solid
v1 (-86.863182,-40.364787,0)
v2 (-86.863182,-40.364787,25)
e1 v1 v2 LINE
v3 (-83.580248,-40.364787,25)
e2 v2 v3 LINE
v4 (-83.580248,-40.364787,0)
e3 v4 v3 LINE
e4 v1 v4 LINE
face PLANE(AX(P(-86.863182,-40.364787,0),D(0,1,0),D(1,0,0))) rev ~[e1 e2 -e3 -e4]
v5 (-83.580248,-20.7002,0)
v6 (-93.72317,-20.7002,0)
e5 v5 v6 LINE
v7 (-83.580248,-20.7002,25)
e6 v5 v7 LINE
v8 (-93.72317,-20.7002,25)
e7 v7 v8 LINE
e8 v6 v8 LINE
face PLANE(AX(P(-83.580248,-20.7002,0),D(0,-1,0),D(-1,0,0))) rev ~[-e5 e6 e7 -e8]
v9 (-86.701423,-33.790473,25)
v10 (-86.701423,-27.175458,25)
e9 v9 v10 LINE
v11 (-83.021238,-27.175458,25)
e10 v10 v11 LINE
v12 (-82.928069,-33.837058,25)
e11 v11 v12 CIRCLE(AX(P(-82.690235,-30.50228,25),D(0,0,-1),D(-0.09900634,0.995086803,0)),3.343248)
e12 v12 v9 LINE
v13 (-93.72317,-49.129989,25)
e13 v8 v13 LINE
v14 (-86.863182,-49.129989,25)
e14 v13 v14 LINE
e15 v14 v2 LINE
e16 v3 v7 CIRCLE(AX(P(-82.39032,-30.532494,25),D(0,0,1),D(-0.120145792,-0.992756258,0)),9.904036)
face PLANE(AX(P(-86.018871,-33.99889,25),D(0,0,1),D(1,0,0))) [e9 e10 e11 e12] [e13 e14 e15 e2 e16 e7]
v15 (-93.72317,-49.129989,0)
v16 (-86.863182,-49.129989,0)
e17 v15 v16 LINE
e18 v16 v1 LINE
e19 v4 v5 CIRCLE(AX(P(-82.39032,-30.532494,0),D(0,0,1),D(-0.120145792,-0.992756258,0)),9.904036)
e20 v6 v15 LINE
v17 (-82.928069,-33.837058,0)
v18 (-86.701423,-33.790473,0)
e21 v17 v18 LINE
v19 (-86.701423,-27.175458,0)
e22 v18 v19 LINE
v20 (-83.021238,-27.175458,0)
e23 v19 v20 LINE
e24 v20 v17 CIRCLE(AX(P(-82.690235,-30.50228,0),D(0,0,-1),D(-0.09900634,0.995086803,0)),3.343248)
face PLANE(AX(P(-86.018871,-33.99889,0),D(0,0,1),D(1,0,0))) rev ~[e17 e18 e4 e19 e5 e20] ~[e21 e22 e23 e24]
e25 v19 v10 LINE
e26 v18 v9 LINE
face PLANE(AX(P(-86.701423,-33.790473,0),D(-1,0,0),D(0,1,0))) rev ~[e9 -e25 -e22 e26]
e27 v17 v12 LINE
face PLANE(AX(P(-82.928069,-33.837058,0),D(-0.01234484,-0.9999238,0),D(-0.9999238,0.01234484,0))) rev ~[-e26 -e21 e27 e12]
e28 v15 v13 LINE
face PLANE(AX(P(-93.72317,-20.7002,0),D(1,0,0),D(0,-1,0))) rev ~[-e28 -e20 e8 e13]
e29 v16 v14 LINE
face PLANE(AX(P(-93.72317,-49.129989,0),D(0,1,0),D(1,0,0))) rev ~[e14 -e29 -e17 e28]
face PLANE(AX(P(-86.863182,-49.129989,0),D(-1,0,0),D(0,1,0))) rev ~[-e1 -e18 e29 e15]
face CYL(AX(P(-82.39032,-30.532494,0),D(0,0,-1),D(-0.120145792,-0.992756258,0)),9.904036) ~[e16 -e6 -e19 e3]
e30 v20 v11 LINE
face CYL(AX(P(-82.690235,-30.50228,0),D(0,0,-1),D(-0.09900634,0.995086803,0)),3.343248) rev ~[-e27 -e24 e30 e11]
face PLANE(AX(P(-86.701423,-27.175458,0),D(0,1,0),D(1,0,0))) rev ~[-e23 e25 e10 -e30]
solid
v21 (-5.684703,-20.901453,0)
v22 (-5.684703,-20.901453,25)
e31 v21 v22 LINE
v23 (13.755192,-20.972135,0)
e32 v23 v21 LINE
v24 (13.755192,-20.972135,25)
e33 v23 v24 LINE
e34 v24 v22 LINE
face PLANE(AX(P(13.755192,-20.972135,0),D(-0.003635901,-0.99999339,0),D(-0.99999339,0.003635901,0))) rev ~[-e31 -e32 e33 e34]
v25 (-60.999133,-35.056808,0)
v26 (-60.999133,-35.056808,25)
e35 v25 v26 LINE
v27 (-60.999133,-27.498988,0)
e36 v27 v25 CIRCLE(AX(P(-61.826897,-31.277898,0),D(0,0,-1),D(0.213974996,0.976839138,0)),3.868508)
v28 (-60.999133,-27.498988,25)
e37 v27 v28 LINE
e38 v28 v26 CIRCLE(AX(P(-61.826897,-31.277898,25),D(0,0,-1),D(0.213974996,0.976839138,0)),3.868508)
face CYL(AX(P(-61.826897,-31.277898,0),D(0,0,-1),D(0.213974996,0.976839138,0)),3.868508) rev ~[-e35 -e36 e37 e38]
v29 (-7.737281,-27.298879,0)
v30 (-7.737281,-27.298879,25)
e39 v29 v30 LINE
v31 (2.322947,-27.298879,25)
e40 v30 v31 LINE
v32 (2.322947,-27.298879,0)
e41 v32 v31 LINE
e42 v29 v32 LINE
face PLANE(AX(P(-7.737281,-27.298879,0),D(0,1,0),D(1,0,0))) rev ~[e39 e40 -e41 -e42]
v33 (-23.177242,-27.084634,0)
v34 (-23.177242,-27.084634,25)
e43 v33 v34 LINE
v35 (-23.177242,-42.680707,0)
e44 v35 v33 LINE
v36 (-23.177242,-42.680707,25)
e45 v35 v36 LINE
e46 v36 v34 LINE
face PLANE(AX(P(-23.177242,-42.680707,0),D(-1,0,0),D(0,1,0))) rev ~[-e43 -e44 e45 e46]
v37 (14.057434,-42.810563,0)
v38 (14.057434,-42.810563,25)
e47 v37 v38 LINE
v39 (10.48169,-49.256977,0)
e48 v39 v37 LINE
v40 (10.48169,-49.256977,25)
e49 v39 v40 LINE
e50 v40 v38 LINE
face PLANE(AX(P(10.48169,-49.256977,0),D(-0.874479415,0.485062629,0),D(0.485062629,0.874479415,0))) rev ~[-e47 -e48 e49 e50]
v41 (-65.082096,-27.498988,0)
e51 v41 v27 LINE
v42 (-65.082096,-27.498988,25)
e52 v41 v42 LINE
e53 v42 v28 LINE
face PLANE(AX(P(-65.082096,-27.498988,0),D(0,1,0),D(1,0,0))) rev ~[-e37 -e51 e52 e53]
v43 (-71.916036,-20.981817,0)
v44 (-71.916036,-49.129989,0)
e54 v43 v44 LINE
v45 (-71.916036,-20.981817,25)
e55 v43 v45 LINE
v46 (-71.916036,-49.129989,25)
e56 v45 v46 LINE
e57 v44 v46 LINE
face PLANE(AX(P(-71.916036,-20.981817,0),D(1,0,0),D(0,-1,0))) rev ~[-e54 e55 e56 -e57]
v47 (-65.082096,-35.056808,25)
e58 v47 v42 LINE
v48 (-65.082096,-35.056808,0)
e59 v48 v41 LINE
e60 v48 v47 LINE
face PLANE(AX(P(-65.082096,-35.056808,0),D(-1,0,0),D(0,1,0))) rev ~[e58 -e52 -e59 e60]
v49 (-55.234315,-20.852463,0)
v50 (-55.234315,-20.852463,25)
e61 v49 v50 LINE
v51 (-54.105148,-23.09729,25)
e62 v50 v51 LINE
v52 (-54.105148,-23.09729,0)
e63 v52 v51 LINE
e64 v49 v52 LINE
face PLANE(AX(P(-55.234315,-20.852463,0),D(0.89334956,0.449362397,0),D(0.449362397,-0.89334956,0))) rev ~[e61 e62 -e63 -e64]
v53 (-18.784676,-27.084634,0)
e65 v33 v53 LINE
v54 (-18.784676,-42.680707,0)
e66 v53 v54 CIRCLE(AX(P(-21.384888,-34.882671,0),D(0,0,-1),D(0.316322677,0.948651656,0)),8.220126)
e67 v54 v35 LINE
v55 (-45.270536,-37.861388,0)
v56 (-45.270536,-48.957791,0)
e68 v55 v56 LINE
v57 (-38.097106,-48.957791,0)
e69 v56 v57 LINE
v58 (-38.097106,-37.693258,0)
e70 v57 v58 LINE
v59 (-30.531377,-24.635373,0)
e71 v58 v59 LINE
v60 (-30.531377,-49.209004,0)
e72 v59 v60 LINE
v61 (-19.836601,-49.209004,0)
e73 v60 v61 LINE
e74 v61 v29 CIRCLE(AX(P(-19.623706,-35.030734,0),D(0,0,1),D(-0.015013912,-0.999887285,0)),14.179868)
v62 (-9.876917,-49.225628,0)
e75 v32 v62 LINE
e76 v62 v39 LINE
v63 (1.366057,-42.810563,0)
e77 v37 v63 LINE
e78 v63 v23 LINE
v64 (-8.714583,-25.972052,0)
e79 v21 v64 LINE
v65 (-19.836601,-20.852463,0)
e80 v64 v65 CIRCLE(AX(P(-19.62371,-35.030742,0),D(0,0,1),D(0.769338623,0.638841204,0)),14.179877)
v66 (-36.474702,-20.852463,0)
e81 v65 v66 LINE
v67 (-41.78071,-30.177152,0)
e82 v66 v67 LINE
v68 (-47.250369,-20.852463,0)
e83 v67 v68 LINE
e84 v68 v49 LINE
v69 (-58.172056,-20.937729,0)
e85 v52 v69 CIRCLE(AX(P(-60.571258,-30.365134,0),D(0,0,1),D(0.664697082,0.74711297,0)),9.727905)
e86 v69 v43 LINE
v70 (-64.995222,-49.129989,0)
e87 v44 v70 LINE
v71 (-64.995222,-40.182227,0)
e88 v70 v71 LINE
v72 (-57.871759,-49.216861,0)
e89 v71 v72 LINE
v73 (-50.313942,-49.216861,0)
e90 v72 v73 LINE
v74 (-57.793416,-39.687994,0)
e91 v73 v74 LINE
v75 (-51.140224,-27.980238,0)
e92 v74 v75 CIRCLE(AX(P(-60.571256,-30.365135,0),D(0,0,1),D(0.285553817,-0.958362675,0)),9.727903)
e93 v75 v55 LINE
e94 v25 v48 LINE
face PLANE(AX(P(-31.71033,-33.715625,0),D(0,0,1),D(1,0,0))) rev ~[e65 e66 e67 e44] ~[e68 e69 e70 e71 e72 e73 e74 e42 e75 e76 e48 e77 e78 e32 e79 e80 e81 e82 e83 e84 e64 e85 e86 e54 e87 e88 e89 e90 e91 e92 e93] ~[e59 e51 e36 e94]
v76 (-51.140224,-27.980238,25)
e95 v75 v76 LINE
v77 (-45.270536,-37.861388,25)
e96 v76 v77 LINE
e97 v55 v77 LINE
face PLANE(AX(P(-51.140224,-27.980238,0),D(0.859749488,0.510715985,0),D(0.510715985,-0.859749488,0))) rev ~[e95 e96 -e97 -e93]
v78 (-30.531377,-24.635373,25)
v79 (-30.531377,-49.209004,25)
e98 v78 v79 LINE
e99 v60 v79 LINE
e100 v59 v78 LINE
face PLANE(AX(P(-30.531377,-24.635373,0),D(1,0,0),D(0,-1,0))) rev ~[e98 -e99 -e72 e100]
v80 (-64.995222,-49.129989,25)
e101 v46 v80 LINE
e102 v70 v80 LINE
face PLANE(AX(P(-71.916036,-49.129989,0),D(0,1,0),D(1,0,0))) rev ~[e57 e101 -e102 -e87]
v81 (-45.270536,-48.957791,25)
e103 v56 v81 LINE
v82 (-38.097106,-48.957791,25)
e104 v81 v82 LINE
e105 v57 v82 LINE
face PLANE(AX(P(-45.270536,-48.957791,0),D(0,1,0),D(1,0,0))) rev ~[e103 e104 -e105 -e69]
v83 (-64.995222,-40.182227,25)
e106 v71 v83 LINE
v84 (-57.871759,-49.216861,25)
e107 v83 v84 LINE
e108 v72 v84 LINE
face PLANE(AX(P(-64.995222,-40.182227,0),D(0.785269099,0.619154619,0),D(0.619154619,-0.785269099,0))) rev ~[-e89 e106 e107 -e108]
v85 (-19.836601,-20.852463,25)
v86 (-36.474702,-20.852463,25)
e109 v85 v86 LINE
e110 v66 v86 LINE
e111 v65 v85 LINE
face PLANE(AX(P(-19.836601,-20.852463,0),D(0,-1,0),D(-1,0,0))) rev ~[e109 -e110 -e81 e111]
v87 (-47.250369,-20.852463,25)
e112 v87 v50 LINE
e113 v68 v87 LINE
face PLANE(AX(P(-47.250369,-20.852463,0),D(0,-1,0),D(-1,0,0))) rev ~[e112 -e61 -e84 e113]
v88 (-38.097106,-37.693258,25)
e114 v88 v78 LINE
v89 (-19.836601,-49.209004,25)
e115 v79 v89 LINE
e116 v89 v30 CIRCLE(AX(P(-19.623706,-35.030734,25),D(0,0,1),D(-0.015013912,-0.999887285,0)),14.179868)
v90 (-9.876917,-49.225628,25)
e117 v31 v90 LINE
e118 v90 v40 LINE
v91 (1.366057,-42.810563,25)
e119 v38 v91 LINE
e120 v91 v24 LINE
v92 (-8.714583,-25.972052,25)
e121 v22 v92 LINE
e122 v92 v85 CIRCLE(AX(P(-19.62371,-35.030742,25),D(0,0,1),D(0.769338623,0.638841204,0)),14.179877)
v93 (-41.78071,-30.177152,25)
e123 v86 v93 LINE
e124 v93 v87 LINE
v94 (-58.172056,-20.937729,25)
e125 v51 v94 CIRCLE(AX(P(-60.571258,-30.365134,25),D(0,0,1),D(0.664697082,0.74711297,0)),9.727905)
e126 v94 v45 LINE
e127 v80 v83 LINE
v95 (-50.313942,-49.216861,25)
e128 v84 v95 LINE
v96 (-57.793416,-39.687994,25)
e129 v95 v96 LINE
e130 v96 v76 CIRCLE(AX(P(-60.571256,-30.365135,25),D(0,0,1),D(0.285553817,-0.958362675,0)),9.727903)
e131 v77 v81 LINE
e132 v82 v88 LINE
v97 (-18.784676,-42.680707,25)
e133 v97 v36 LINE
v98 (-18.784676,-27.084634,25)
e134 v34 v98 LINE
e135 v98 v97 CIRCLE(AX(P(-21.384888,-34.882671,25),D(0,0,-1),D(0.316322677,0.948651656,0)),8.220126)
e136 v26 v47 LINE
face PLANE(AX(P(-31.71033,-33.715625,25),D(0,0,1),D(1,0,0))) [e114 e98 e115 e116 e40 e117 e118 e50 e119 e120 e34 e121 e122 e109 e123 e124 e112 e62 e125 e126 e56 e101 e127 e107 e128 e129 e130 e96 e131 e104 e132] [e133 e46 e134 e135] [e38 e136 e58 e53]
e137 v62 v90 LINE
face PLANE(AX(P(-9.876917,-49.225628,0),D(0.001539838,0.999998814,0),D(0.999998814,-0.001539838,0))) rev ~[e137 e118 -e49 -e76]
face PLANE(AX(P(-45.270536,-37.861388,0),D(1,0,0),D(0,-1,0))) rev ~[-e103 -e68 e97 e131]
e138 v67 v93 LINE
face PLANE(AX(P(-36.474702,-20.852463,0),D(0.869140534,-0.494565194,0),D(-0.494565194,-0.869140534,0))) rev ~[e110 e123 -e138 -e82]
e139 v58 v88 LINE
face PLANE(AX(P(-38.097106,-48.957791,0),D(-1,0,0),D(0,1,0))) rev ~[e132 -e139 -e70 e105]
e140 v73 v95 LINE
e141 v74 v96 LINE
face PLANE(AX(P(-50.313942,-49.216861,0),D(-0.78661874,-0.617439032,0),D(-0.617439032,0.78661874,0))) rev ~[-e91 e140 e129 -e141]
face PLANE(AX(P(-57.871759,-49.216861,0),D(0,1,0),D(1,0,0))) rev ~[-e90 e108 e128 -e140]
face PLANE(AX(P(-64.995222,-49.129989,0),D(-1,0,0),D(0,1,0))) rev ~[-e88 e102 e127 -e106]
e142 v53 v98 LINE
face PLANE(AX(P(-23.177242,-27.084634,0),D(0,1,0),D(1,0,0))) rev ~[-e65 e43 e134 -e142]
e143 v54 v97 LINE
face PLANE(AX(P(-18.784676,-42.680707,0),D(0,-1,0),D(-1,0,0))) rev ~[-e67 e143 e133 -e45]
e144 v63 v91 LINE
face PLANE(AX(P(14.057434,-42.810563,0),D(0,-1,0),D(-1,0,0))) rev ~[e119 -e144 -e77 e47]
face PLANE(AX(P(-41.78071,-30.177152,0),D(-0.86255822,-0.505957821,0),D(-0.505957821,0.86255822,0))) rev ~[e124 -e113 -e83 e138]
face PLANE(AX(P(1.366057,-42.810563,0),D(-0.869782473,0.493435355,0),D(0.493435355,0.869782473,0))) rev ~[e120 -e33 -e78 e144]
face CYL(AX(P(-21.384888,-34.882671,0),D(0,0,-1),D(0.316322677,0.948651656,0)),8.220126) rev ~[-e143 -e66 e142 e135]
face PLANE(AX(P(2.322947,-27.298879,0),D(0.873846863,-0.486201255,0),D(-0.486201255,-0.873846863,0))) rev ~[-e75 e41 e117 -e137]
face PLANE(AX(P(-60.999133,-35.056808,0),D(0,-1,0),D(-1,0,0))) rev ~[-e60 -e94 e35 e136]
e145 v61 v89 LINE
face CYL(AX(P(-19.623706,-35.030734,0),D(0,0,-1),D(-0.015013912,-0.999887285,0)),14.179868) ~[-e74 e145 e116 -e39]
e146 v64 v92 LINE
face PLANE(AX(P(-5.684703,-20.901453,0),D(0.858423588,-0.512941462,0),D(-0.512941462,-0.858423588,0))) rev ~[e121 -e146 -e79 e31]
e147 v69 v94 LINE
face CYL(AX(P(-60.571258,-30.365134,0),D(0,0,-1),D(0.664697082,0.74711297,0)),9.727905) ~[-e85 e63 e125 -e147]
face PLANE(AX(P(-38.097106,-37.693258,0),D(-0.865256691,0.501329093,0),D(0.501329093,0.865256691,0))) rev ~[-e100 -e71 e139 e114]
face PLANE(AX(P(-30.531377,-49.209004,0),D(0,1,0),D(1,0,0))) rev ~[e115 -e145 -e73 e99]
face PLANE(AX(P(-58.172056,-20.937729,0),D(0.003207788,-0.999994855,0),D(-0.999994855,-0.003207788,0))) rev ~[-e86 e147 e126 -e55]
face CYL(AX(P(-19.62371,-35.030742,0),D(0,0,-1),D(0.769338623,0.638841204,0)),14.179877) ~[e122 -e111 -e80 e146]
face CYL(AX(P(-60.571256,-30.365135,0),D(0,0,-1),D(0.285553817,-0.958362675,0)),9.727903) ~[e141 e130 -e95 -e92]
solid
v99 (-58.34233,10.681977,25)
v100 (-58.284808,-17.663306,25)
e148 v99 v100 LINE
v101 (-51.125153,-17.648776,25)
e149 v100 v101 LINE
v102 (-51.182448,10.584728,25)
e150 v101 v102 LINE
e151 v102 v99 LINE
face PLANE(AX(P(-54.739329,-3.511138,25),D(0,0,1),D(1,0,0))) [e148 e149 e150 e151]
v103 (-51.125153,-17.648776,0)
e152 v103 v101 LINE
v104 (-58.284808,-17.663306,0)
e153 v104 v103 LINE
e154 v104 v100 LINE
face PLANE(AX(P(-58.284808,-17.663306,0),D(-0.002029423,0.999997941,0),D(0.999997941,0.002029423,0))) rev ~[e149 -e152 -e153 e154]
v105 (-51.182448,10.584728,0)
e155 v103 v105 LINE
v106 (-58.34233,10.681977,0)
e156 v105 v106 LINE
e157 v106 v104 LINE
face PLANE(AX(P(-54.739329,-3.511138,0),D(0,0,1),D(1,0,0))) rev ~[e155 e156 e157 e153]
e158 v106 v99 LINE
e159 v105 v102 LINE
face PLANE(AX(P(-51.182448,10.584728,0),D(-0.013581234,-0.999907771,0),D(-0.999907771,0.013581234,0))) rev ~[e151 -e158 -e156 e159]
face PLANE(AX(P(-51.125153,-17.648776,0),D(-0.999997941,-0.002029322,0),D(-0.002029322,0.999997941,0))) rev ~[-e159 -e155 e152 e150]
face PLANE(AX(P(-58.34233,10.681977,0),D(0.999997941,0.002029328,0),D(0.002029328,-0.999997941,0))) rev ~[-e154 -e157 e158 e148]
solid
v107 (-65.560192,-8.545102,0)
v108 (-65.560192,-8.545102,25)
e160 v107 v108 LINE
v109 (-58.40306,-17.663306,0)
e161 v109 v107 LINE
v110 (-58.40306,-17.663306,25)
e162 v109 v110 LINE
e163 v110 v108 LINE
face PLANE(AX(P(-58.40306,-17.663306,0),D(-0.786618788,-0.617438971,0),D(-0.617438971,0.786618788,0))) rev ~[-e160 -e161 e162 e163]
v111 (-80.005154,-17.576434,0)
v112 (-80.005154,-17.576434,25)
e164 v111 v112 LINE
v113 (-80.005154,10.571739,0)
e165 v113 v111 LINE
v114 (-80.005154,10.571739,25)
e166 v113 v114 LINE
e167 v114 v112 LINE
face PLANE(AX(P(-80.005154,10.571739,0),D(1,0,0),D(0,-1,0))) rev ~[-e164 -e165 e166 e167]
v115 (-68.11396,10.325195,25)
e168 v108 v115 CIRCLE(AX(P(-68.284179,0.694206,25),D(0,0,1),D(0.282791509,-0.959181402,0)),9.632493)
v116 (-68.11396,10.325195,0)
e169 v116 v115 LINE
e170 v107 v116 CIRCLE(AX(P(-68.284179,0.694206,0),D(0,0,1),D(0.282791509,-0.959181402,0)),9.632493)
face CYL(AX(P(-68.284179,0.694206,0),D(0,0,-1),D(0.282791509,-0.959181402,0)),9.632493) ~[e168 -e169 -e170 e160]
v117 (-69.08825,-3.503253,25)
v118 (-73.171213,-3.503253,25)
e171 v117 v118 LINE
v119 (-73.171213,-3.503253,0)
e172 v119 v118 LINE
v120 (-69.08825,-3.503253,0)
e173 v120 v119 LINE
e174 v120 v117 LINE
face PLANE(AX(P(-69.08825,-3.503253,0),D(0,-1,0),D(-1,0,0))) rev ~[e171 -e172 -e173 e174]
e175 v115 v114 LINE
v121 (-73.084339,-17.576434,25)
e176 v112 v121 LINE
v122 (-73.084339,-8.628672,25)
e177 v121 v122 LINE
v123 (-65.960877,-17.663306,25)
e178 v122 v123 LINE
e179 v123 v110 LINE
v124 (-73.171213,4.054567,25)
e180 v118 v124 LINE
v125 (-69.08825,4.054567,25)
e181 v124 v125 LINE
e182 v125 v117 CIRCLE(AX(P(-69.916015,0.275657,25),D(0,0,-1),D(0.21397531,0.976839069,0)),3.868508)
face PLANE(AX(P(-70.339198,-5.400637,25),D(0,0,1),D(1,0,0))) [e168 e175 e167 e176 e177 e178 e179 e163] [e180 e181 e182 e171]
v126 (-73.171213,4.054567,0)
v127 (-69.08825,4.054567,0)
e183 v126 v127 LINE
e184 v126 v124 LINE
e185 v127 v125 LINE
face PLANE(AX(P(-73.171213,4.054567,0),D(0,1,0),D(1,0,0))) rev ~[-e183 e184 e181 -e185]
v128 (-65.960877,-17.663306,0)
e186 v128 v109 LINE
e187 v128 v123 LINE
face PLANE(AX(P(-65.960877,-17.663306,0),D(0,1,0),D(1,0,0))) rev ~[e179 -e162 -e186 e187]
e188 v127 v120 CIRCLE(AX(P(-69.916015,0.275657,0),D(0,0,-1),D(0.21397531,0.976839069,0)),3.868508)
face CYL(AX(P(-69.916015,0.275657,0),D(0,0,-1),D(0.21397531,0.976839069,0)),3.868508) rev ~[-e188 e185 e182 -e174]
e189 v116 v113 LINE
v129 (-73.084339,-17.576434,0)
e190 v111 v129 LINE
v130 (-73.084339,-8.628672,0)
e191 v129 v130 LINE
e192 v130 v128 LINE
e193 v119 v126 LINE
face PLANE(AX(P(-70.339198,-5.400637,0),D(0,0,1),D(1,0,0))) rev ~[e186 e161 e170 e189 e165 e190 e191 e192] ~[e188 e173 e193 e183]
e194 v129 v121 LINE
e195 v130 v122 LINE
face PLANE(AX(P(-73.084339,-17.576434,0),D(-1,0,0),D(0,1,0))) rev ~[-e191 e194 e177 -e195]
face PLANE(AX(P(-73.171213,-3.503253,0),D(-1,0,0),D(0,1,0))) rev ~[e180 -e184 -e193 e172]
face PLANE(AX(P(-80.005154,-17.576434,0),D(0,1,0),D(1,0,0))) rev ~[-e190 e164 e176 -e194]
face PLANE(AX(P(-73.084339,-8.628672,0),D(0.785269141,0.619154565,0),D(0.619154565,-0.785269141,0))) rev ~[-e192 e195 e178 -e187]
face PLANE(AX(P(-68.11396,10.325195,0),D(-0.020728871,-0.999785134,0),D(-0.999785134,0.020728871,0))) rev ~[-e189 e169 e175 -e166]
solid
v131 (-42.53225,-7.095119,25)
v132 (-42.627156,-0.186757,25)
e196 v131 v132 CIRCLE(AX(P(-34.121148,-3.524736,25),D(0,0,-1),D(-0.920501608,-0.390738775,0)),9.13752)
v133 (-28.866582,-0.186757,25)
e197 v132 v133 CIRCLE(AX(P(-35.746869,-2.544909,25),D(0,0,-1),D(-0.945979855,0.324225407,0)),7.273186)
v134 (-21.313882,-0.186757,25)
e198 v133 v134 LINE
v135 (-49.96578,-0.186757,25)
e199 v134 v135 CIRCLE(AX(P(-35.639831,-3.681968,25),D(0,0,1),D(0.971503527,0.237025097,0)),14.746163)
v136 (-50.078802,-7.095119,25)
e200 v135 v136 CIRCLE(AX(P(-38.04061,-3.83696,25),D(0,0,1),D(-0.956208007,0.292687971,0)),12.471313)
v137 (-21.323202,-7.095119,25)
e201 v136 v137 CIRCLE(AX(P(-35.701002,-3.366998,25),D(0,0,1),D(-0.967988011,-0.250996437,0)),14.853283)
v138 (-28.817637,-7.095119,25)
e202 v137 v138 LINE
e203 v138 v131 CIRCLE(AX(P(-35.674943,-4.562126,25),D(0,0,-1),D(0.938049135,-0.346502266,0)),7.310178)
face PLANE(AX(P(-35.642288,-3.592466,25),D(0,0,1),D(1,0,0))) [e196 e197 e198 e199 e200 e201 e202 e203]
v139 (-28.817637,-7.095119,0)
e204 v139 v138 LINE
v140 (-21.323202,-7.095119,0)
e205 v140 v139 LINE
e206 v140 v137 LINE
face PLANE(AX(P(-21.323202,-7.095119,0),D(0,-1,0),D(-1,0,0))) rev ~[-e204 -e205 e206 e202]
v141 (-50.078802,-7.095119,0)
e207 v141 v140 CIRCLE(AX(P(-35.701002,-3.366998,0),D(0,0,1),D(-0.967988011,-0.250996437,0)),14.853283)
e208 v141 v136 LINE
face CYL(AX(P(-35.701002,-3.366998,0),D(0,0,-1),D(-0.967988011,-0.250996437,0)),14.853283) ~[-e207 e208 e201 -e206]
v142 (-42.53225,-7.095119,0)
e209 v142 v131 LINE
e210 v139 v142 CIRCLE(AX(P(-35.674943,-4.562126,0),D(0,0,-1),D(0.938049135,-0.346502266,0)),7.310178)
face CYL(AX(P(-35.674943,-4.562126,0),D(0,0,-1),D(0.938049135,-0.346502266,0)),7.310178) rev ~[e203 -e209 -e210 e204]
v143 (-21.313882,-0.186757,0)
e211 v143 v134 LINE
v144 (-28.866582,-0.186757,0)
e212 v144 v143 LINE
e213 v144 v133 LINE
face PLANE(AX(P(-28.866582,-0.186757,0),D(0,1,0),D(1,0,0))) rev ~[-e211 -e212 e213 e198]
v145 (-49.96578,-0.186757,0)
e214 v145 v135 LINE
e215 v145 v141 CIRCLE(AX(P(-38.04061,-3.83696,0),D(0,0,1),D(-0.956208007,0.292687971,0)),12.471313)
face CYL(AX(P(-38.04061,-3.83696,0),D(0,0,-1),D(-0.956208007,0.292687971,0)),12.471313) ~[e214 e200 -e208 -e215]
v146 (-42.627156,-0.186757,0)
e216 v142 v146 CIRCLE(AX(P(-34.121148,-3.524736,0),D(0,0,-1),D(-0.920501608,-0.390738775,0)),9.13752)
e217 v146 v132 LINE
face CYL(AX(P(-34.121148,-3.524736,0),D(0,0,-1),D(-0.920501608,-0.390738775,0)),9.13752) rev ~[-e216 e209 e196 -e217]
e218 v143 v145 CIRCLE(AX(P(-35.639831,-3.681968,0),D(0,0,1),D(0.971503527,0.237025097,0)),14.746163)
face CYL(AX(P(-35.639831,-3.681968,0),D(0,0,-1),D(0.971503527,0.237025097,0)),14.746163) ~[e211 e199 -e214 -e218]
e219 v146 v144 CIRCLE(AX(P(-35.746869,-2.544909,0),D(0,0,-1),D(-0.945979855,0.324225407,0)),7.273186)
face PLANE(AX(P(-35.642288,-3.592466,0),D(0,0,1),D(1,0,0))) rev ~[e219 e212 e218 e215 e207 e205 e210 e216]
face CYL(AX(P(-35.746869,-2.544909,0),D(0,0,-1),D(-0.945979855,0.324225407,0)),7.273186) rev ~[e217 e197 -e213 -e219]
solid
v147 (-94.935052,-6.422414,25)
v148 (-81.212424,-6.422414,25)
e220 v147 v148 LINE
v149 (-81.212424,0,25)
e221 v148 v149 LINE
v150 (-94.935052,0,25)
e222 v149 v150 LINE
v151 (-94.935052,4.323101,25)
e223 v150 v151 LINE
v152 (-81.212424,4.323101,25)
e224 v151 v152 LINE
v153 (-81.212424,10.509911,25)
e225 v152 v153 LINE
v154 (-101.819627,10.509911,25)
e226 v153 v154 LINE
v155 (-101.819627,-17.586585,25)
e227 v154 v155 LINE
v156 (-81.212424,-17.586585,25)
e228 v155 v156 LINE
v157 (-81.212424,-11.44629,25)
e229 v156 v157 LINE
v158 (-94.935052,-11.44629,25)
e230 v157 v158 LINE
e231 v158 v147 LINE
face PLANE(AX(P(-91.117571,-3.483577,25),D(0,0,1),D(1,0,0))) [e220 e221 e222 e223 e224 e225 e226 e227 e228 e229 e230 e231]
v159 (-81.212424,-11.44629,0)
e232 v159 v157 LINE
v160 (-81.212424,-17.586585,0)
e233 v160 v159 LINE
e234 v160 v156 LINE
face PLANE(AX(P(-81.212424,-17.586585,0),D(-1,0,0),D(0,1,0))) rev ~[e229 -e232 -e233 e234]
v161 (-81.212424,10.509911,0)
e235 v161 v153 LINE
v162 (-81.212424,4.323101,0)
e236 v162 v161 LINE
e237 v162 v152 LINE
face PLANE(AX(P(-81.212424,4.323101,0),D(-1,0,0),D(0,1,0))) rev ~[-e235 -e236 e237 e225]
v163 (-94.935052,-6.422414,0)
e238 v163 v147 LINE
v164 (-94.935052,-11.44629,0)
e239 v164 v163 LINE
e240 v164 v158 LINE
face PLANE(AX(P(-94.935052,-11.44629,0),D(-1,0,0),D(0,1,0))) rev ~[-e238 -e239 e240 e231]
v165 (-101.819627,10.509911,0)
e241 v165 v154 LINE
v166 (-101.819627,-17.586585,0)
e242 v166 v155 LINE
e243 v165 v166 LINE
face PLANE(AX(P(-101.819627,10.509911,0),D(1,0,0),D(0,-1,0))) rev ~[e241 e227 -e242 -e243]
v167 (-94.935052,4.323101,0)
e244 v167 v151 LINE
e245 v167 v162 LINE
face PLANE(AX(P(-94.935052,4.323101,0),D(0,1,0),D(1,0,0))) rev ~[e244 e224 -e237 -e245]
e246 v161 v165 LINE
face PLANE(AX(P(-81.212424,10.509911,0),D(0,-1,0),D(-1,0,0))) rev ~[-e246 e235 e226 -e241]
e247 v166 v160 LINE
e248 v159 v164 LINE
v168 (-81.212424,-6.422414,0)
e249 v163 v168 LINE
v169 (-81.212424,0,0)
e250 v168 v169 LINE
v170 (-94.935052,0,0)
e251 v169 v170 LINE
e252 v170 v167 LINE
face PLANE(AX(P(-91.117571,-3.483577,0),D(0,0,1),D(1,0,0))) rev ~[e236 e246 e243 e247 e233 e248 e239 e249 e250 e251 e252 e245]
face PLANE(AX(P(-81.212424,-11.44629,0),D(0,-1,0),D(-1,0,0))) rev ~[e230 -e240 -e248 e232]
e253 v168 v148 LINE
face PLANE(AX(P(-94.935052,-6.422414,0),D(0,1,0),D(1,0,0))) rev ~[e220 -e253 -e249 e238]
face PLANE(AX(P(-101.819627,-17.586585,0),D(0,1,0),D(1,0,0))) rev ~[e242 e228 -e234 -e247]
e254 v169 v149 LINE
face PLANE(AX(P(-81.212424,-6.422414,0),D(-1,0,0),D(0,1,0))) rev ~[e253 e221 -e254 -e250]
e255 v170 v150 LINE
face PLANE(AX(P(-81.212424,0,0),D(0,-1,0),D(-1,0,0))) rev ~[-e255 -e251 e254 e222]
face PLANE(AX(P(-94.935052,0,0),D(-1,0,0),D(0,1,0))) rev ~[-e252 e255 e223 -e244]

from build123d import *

# Parameters (mm, degrees)
F1_DEPTH = 25


with BuildPart() as f1:
    # F0 (on Top) → F1 (new body)
    with BuildSketch(Plane.XY):
        Polygon((-101.819627, 10.509911), (-101.819627, -17.586585), (-81.212424, -17.586585), (-81.212424, -11.44629), (-94.935052, -11.44629), (-94.935052, -6.422414), (-81.212424, -6.422414), (-81.212424, 0), (-94.935052, 0), (-94.935052, 4.323101), (-81.212424, 4.323101), (-81.212424, 10.509911), align=None)
        with BuildLine():
            Line((-68.11396, 10.325195), (-80.005154, 10.571739))
            Line((-80.005154, 10.571739), (-80.005154, -17.576434))
            Line((-80.005154, -17.576434), (-73.084339, -17.576434))
            Line((-73.084339, -17.576434), (-73.084339, -8.628672))
            Line((-73.084339, -8.628672), (-65.960877, -17.663306))
            Line((-65.960877, -17.663306), (-58.40306, -17.663306))
            Line((-58.40306, -17.663306), (-65.560192, -8.545102))
            ThreePointArc((-65.560192, -8.545102), (-58.738702, 1.986021), (-68.11396, 10.325195))
        make_face()
        with BuildLine():
            Line((-73.171213, -3.503253), (-73.171213, 4.054567))
            Line((-73.171213, 4.054567), (-69.08825, 4.054567))
            ThreePointArc((-69.08825, 4.054567), (-66.047507, 0.275657), (-69.08825, -3.503253))
            Line((-69.08825, -3.503253), (-73.171213, -3.503253))
        make_face(mode=Mode.SUBTRACT)
        Polygon((-51.182448, 10.584728), (-58.34233, 10.681977), (-58.284808, -17.663306), (-51.125153, -17.648776), align=None)
        with BuildLine():
            ThreePointArc((-42.627156, -0.186757), (-35.746869, 4.728277), (-28.866582, -0.186757))
            Line((-28.866582, -0.186757), (-21.313882, -0.186757))
            ThreePointArc((-21.313882, -0.186757), (-35.639831, 11.064195), (-49.96578, -0.186757))
            ThreePointArc((-49.96578, -0.186757), (-50.510255, -3.632955), (-50.078802, -7.095119))
            ThreePointArc((-50.078802, -7.095119), (-35.701002, -18.220281), (-21.323202, -7.095119))
            Line((-21.323202, -7.095119), (-28.817637, -7.095119))
            ThreePointArc((-28.817637, -7.095119), (-35.674944, -11.872304), (-42.53225, -7.095119))
            ThreePointArc((-42.53225, -7.095119), (-43.257806, -3.650254), (-42.627156, -0.186757))
        make_face()
        with BuildLine():
            Line((-55.234315, -20.852463), (-54.105148, -23.09729))
            ThreePointArc((-54.105148, -23.09729), (-52.256175, -25.316219), (-51.140224, -27.980238))
            Line((-51.140224, -27.980238), (-45.270536, -37.861388))
            Line((-45.270536, -37.861388), (-45.270536, -48.957791))
            Line((-45.270536, -48.957791), (-38.097106, -48.957791))
            Line((-38.097106, -48.957791), (-38.097106, -37.693258))
            Line((-38.097106, -37.693258), (-30.531377, -24.635373))
            Line((-30.531377, -24.635373), (-30.531377, -49.209004))
            Line((-30.531377, -49.209004), (-19.836601, -49.209004))
            ThreePointArc((-19.836601, -49.209004), (-7.21076, -41.885473), (-7.737281, -27.298879))
            ThreePointArc((-7.737281, -27.298879), (-8.206641, -26.621257), (-8.714583, -25.972052))
            ThreePointArc((-8.714583, -25.972052), (-13.694552, -22.149981), (-19.836601, -20.852463))
            Line((-19.836601, -20.852463), (-36.474702, -20.852463))
            Line((-36.474702, -20.852463), (-41.78071, -30.177152))
            Line((-41.78071, -30.177152), (-47.250369, -20.852463))
            Line((-47.250369, -20.852463), (-55.234315, -20.852463))
        make_face()
        with BuildLine():
            Line((-23.177242, -42.680707), (-23.177242, -27.084634))
            Line((-23.177242, -27.084634), (-18.784676, -27.084634))
            ThreePointArc((-18.784676, -27.084634), (-13.164762, -34.88267), (-18.784676, -42.680707))
            Line((-18.784676, -42.680707), (-23.177242, -42.680707))
        make_face(mode=Mode.SUBTRACT)
        with BuildLine():
            Line((-58.172056, -20.937729), (-71.916036, -20.981817))
            Line((-71.916036, -20.981817), (-71.916036, -49.129989))
            Line((-71.916036, -49.129989), (-64.995222, -49.129989))
            Line((-64.995222, -49.129989), (-64.995222, -40.182227))
            Line((-64.995222, -40.182227), (-57.871759, -49.216861))
            Line((-57.871759, -49.216861), (-50.313942, -49.216861))
            Line((-50.313942, -49.216861), (-57.793416, -39.687994))
            ThreePointArc((-57.793416, -39.687994), (-52.113595, -35.171388), (-51.140224, -27.980238))
            ThreePointArc((-51.140224, -27.980238), (-52.256175, -25.316219), (-54.105148, -23.09729))
            ThreePointArc((-54.105148, -23.09729), (-56.008982, -21.773407), (-58.172056, -20.937729))
        make_face()
        with BuildLine():
            Line((-65.082096, -35.056808), (-65.082096, -27.498988))
            Line((-65.082096, -27.498988), (-60.999133, -27.498988))
            ThreePointArc((-60.999133, -27.498988), (-57.958389, -31.277898), (-60.999133, -35.056808))
            Line((-60.999133, -35.056808), (-65.082096, -35.056808))
        make_face(mode=Mode.SUBTRACT)
        with BuildLine():
            Line((-83.580248, -20.7002), (-93.72317, -20.7002))
            Line((-93.72317, -20.7002), (-93.72317, -49.129989))
            Line((-93.72317, -49.129989), (-86.863182, -49.129989))
            Line((-86.863182, -49.129989), (-86.863182, -40.364787))
            Line((-86.863182, -40.364787), (-83.580248, -40.364787))
            ThreePointArc((-83.580248, -40.364787), (-72.486284, -30.532493), (-83.580248, -20.7002))
        make_face()
        with BuildLine():
            ThreePointArc((-83.021238, -27.175458), (-79.347314, -30.455526), (-82.928069, -33.837058))
            Line((-82.928069, -33.837058), (-86.701423, -33.790473))
            Line((-86.701423, -33.790473), (-86.701423, -27.175458))
            Line((-86.701423, -27.175458), (-83.021238, -27.175458))
        make_face(mode=Mode.SUBTRACT)
        with BuildLine():
            Line((-5.684703, -20.901453), (-8.714583, -25.972052))
            ThreePointArc((-8.714583, -25.972052), (-8.206641, -26.621257), (-7.737281, -27.298879))
            Line((-7.737281, -27.298879), (2.322947, -27.298879))
            Line((2.322947, -27.298879), (-9.876917, -49.225628))
            Line((-9.876917, -49.225628), (10.48169, -49.256977))
            Line((10.48169, -49.256977), (14.057434, -42.810563))
            Line((14.057434, -42.810563), (1.366057, -42.810563))
            Line((1.366057, -42.810563), (13.755192, -20.972135))
            Line((13.755192, -20.972135), (-5.684703, -20.901453))
        make_face()
    extrude(amount=F1_DEPTH)


solid = f1.part
